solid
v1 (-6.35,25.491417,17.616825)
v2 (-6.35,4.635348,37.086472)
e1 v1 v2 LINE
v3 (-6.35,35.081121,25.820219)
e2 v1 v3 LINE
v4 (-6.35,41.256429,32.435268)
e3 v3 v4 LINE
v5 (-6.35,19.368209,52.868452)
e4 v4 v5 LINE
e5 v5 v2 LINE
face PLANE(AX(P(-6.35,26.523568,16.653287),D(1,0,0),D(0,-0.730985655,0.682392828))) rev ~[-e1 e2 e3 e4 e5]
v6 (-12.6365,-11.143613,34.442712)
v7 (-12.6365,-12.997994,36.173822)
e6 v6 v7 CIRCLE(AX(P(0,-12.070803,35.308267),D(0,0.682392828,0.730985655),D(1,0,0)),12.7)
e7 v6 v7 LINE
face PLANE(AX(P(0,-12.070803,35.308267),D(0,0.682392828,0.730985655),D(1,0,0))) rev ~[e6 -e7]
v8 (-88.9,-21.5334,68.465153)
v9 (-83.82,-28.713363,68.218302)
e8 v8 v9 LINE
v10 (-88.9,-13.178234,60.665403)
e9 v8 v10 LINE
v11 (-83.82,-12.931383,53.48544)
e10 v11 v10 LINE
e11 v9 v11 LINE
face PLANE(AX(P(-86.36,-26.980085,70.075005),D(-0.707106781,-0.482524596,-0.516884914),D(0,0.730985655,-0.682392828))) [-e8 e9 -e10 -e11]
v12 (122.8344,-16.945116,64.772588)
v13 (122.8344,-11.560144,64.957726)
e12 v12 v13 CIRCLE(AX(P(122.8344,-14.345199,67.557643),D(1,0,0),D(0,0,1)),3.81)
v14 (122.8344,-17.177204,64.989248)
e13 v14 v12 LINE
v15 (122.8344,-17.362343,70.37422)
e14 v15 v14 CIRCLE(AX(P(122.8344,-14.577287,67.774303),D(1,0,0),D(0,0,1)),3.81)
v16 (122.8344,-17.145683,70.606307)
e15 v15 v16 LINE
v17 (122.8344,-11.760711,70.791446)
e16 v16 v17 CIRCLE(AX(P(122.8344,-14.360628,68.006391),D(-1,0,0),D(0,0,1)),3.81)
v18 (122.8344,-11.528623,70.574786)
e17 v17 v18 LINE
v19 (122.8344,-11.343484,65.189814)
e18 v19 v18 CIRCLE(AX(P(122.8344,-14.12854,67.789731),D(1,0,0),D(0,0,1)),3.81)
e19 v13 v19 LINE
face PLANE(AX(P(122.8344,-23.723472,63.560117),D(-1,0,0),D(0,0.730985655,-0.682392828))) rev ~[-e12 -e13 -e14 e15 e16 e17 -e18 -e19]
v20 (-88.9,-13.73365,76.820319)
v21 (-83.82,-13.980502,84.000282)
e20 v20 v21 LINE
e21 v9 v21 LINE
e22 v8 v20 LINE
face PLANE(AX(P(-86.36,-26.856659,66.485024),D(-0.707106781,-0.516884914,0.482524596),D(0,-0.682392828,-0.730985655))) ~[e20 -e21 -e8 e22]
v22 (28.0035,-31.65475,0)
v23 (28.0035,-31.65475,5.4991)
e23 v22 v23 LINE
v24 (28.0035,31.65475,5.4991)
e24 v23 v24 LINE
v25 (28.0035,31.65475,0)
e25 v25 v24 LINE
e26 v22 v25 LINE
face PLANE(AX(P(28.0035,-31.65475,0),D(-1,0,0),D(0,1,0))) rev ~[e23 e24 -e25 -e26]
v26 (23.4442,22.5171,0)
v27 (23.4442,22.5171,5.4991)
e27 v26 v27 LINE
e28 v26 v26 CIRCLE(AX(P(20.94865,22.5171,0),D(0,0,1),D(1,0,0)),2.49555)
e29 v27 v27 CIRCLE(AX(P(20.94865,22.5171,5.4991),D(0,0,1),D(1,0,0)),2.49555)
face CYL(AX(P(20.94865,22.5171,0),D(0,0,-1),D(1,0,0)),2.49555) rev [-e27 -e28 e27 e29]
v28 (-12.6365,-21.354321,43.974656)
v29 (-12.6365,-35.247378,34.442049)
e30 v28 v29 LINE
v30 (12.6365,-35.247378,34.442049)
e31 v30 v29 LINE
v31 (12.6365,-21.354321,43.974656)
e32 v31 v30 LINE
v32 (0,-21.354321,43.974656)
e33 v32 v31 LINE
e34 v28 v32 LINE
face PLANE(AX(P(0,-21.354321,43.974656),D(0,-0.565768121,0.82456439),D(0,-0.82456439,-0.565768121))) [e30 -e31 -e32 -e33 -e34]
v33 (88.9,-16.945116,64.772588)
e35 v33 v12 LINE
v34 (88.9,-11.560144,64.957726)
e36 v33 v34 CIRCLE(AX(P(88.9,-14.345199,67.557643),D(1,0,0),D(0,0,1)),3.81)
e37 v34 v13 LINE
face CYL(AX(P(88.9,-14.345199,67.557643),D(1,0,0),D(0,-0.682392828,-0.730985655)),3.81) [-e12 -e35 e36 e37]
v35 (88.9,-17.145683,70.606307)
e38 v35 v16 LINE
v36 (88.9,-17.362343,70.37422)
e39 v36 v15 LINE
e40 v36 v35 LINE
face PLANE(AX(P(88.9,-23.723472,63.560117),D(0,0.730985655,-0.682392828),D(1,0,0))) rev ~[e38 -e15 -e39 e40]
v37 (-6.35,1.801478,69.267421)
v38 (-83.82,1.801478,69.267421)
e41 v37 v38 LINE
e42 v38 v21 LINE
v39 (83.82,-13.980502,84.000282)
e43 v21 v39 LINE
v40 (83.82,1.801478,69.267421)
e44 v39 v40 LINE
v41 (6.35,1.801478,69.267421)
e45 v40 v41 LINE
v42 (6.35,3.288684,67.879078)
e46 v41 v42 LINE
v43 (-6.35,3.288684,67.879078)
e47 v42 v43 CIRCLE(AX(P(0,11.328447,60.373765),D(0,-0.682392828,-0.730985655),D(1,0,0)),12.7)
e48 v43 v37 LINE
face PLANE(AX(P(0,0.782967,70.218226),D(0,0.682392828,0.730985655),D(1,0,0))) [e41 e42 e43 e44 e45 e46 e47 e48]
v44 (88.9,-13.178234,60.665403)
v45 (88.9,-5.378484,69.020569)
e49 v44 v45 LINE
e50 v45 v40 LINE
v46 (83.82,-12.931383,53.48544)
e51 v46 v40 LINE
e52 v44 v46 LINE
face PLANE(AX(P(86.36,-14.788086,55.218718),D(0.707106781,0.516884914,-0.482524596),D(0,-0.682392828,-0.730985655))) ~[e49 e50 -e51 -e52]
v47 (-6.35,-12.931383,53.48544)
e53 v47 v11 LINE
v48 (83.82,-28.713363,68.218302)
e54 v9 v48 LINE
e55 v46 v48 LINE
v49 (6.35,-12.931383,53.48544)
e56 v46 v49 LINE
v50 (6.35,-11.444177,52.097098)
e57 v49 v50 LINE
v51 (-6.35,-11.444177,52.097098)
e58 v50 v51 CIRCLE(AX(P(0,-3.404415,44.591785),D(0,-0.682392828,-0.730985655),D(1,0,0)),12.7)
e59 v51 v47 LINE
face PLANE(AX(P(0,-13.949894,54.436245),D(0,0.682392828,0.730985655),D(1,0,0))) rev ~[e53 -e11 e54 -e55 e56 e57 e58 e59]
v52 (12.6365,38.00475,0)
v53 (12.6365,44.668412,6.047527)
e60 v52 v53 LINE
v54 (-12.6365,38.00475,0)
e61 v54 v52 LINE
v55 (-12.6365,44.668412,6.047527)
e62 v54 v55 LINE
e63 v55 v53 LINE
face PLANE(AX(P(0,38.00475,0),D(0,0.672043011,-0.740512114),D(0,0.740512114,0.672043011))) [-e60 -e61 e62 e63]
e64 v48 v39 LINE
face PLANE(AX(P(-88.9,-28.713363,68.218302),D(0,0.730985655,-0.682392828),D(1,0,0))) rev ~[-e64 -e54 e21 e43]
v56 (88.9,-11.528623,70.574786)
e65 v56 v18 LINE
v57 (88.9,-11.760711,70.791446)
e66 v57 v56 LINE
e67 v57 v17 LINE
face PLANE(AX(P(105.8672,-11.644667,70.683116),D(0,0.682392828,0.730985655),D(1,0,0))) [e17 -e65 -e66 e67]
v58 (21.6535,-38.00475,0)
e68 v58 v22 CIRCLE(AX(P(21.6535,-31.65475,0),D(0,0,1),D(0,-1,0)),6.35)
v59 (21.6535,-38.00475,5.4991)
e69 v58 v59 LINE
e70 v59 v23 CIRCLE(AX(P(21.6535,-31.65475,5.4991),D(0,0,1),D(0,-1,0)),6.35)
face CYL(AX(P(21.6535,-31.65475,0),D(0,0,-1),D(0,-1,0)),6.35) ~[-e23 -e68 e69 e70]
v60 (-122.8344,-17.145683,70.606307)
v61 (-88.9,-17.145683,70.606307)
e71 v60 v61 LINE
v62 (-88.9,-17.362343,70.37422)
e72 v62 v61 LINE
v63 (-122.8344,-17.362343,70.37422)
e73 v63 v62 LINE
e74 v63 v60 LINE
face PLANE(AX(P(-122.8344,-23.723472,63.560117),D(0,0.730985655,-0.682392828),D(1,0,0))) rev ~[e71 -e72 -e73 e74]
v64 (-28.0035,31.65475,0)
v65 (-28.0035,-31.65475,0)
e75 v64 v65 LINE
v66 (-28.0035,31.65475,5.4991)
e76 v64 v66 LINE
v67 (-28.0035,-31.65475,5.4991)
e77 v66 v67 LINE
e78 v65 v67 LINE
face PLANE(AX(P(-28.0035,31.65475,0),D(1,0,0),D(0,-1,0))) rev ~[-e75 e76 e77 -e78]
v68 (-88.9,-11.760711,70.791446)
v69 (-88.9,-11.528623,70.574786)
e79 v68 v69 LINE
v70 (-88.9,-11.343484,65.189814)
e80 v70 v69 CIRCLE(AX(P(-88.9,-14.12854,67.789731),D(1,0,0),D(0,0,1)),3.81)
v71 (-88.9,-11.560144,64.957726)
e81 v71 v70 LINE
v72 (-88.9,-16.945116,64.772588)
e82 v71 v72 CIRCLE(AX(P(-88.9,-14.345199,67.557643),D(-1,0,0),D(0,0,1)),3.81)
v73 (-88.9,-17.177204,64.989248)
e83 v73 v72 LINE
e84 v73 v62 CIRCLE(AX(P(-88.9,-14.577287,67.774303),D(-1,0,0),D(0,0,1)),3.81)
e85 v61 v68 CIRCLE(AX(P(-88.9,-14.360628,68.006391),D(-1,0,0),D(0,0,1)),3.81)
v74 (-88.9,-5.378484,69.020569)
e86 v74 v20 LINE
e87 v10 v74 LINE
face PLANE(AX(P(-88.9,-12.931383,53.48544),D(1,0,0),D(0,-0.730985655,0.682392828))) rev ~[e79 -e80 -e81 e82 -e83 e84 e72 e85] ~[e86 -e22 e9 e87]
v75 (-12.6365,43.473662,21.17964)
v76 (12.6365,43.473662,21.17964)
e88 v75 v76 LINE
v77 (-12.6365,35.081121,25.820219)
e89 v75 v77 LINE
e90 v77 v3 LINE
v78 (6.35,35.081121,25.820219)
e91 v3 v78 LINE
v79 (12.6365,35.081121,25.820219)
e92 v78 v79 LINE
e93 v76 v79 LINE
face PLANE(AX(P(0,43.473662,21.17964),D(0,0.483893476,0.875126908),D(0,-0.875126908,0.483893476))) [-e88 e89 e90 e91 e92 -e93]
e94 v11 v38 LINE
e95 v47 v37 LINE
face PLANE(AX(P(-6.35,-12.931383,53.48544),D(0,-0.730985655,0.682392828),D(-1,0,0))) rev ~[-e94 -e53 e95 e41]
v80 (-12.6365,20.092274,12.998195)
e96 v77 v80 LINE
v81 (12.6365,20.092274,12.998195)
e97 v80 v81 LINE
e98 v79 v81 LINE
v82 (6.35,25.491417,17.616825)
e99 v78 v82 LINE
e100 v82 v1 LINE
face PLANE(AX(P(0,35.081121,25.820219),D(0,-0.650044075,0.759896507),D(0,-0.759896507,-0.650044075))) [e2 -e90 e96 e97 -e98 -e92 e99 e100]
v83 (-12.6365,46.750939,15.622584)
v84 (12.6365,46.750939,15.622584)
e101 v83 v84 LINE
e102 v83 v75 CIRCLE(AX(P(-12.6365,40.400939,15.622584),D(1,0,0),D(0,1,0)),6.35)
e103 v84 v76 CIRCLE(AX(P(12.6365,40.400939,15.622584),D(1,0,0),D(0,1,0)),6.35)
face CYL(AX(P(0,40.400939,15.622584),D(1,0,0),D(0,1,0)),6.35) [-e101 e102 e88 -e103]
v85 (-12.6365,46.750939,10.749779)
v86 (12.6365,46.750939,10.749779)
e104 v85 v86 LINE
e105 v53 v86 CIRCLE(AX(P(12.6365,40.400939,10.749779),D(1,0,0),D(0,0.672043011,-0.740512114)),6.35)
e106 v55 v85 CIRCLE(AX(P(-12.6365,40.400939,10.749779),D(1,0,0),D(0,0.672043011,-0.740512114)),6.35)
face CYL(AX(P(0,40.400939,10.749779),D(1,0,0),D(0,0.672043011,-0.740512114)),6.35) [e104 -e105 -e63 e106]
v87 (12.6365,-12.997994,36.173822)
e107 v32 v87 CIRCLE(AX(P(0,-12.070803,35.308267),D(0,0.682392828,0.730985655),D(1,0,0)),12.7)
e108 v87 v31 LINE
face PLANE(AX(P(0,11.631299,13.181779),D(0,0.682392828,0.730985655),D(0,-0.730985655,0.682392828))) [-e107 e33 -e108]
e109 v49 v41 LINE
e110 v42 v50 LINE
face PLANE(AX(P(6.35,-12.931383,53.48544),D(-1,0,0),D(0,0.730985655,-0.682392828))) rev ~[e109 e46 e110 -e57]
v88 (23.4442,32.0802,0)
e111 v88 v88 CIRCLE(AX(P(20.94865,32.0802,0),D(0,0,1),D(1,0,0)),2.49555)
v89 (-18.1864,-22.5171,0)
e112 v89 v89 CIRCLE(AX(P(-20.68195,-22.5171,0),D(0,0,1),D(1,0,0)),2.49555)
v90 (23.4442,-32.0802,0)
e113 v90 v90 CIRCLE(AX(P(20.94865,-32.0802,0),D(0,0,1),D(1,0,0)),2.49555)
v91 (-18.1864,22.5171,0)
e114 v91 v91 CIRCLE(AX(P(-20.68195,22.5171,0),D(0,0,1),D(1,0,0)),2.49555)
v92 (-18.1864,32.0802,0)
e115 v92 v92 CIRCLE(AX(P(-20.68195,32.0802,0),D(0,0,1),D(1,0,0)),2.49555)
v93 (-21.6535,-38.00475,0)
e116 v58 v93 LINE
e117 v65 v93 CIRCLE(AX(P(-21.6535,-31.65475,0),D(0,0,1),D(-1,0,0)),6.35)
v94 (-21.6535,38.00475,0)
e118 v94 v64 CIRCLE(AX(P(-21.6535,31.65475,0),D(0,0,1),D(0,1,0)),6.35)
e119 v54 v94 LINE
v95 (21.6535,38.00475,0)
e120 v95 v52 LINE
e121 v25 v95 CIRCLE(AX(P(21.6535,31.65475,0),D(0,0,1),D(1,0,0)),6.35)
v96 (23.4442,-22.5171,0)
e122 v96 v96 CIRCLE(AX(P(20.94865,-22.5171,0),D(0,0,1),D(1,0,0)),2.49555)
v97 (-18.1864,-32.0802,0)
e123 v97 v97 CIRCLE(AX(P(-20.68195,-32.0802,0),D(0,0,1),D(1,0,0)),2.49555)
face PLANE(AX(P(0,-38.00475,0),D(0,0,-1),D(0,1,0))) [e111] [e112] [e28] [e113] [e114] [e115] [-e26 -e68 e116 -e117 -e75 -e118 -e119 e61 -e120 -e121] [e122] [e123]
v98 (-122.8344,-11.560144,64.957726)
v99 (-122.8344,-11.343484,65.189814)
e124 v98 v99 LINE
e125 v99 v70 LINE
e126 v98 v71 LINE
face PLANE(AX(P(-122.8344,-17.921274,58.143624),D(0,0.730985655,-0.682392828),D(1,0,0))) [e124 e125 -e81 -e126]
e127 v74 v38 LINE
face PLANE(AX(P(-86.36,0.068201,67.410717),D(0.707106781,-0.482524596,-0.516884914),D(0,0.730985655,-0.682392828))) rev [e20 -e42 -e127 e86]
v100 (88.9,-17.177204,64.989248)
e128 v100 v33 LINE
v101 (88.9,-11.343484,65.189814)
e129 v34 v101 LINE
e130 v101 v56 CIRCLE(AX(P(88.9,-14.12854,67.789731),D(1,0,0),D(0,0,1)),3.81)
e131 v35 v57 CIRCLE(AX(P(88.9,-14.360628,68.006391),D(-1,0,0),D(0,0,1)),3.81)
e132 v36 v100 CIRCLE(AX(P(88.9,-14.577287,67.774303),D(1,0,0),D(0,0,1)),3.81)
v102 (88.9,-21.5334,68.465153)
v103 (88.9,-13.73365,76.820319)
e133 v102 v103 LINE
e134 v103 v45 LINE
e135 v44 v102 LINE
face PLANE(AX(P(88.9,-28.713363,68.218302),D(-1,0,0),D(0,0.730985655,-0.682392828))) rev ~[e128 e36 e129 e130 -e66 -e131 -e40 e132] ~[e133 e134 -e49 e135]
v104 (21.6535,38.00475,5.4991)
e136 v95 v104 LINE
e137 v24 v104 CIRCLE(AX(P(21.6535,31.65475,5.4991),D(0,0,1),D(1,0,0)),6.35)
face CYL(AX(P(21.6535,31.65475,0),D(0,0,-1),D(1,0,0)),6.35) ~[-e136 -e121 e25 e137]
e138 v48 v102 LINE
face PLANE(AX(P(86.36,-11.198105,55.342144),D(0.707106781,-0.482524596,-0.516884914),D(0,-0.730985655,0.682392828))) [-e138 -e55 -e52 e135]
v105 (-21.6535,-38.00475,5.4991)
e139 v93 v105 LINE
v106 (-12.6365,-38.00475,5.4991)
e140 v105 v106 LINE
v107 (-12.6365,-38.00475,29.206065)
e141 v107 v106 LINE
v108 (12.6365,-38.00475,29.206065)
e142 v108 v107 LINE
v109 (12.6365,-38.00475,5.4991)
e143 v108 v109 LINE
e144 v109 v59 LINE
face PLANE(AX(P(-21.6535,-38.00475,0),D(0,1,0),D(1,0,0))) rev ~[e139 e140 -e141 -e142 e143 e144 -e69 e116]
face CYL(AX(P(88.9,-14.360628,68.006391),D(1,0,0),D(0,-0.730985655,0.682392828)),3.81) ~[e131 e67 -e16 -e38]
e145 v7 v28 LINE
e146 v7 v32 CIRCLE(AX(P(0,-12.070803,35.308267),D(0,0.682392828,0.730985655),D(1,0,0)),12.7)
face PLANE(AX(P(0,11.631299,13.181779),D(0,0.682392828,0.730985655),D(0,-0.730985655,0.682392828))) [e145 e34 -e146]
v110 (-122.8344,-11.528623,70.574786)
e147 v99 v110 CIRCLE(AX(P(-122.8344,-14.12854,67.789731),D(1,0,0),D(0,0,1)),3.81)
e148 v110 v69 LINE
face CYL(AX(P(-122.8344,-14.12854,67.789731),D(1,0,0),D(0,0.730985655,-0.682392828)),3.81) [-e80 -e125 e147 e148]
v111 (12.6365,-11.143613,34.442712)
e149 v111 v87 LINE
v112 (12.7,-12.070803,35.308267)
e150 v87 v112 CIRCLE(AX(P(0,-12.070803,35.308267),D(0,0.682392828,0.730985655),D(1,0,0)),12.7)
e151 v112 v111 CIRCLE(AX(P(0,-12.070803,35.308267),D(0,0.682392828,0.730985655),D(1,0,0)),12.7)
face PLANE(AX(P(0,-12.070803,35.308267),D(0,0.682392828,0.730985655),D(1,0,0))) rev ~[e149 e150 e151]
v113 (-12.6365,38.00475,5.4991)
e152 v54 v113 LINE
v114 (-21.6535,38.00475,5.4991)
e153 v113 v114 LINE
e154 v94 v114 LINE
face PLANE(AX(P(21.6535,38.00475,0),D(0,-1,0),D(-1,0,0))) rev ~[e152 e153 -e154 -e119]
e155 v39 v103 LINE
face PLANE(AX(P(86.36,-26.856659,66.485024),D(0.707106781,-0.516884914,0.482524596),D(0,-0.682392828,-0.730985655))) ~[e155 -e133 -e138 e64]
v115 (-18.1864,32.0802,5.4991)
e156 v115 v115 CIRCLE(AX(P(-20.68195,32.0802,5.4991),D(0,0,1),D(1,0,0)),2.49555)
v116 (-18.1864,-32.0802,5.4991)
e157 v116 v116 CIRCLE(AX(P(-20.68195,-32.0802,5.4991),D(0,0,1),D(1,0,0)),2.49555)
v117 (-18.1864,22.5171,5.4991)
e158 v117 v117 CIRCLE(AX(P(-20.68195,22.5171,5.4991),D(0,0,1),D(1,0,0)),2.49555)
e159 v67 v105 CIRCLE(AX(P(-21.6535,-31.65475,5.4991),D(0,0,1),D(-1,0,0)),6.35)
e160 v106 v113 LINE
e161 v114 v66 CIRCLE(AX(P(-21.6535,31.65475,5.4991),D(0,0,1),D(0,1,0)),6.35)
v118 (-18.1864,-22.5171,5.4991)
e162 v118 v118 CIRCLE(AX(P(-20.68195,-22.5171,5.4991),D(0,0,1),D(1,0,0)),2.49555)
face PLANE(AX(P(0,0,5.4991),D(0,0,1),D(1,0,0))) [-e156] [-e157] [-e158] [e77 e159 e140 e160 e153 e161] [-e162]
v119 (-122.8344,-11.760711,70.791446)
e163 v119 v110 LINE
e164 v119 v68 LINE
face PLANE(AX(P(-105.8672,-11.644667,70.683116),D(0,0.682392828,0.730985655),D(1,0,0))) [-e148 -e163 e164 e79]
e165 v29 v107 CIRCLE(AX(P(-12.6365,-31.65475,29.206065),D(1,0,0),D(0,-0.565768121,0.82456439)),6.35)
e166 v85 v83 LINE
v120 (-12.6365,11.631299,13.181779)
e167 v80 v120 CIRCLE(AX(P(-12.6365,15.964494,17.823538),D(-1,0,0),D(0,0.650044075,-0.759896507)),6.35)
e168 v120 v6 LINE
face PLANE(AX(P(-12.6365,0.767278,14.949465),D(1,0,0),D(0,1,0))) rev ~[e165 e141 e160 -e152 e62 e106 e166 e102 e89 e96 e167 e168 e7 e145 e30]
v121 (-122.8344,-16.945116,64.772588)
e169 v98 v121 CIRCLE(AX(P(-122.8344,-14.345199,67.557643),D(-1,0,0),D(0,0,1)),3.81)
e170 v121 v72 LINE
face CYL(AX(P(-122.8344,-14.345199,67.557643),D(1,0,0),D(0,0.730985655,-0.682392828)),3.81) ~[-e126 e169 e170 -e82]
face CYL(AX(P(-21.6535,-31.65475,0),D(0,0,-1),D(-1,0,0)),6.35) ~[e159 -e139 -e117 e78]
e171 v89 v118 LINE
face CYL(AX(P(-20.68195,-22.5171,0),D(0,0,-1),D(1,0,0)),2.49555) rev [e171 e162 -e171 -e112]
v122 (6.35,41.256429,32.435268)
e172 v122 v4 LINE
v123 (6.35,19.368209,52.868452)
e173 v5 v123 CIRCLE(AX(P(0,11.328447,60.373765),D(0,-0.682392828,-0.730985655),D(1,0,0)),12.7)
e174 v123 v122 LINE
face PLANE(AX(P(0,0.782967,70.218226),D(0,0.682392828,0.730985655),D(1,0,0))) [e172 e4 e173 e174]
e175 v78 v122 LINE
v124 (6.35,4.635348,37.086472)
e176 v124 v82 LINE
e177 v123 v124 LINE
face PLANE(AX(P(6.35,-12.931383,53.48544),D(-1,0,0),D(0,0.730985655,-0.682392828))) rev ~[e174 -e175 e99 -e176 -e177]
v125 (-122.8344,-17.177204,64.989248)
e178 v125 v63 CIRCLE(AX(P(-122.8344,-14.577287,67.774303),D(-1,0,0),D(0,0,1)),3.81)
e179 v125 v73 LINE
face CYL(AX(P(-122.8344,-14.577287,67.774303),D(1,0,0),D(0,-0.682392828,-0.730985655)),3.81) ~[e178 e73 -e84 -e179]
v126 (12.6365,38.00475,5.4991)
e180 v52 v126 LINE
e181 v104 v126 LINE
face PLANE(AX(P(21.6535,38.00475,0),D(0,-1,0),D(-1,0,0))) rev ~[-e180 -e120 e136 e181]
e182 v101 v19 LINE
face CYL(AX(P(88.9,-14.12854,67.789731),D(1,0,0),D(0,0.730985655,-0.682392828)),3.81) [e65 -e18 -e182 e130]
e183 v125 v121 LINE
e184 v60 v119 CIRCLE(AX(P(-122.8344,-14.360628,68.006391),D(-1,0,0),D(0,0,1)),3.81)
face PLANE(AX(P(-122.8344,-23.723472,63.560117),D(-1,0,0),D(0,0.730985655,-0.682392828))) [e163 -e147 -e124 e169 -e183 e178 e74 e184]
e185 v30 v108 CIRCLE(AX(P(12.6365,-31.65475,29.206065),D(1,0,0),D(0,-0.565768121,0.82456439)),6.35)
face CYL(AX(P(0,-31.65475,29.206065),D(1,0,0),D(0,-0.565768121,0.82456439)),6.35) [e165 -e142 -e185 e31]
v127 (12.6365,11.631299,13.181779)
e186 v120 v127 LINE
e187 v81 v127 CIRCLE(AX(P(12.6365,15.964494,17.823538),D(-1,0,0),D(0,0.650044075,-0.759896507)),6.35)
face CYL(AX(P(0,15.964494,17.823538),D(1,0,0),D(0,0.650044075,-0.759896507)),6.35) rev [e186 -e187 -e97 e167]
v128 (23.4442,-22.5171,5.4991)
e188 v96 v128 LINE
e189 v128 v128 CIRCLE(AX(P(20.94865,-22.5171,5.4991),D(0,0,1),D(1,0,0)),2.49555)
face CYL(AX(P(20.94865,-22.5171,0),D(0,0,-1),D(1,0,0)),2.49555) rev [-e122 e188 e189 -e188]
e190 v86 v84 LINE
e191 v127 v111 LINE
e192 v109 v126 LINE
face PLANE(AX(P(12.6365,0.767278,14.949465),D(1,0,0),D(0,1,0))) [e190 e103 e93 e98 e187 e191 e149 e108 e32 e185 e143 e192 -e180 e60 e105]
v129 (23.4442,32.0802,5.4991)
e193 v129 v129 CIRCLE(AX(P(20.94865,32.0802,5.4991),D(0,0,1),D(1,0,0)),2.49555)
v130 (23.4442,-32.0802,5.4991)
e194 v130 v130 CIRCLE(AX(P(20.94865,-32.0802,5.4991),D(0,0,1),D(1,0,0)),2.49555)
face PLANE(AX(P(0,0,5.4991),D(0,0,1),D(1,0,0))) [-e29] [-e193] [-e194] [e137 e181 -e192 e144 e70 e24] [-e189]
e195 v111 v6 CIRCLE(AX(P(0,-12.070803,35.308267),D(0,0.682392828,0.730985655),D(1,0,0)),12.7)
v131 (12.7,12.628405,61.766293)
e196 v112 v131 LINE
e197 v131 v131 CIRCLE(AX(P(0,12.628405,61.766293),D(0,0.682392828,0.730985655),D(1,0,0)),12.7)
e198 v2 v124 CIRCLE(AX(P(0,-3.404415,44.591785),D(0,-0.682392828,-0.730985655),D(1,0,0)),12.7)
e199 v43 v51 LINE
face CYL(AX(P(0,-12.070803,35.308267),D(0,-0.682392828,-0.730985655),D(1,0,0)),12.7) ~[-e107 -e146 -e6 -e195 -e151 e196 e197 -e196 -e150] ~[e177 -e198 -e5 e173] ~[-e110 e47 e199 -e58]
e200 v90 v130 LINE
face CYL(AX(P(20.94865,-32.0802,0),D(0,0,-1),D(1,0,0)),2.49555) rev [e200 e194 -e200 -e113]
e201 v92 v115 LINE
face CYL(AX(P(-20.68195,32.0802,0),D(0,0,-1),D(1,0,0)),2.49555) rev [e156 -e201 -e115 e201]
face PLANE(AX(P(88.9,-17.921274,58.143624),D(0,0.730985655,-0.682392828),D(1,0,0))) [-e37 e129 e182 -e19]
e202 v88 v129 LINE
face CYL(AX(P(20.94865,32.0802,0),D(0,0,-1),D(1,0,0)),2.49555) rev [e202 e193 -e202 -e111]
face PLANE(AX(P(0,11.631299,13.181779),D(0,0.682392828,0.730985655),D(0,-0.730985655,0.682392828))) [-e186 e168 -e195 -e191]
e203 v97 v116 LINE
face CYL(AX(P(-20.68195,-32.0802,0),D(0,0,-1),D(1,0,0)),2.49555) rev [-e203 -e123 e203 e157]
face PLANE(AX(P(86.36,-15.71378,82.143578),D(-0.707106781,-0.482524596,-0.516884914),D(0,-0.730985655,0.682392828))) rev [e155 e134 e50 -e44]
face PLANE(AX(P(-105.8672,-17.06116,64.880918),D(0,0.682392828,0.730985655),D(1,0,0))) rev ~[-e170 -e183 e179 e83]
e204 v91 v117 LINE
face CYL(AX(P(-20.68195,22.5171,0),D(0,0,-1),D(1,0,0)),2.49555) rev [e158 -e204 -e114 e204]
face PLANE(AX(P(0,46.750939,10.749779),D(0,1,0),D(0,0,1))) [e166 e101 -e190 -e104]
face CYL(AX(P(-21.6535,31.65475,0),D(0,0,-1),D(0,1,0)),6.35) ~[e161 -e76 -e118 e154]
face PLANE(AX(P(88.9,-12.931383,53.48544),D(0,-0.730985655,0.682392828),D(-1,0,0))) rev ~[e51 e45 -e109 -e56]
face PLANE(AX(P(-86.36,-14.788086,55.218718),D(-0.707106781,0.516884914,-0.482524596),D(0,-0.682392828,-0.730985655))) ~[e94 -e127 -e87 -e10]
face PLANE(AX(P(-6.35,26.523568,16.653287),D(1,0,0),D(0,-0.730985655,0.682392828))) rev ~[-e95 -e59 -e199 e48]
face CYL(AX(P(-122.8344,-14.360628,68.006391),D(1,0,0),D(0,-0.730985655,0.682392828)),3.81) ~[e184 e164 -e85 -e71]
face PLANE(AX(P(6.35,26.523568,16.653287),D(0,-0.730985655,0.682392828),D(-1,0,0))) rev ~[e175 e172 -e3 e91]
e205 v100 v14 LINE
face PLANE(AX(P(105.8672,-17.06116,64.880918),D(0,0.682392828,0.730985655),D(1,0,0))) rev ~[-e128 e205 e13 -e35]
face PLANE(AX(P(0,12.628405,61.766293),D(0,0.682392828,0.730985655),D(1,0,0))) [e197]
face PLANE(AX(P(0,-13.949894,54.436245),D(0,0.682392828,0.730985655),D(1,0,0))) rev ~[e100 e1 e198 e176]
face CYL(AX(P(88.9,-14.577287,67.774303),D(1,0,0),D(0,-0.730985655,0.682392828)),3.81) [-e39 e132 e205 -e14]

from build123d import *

# Parameters (mm, degrees)
F0_R      = 2.49555
F1_DEPTH  = 5.4991
F3_DEPTH  = 12.6365
F4_R      = 12.7
F5_DEPTH  = 36.195
F8_DEPTH  = 21.59
F7_W      = 33.9344
F7_H      = 7.9375
F9_DEPTH  = 13.4493
F10_DEPTH = 5.5118
F11_SIZE  = 5.08
F12_R     = 3.81


with BuildPart() as f1:
    # F0 (on Top) → F1 (new body)
    with BuildSketch(Plane.XY):
        with BuildLine():
            Line((21.6535, 38.00475), (-21.6535, 38.00475))
            ThreePointArc((-21.6535, 38.00475), (-26.1436280605, 36.1448780605), (-28.0035, 31.65475))
            Line((-28.0035, 31.65475), (-28.0035, -31.65475))
            ThreePointArc((-28.0035, -31.65475), (-26.1436280605, -36.1448780605), (-21.6535, -38.00475))
            Line((-21.6535, -38.00475), (21.6535, -38.00475))
            ThreePointArc((21.6535, -38.00475), (26.1436280605, -36.1448780605), (28.0035, -31.65475))
            Line((28.0035, -31.65475), (28.0035, 31.65475))
            ThreePointArc((28.0035, 31.65475), (26.1436280605, 36.1448780605), (21.6535, 38.00475))
        make_face()
        with Locations((-20.68195, -32.0802)):
            Circle(F0_R, mode=Mode.SUBTRACT)
        with Locations((-20.68195, -22.5171)):
            Circle(F0_R, mode=Mode.SUBTRACT)
        with Locations((20.94865, -32.0802)):
            Circle(F0_R, mode=Mode.SUBTRACT)
        with Locations((20.94865, -22.5171)):
            Circle(F0_R, mode=Mode.SUBTRACT)
        with Locations((-20.68195, 22.5171)):
            Circle(F0_R, mode=Mode.SUBTRACT)
        with Locations((-20.68195, 32.0802)):
            Circle(F0_R, mode=Mode.SUBTRACT)
        with Locations((20.94865, 22.5171)):
            Circle(F0_R, mode=Mode.SUBTRACT)
        with Locations((20.94865, 32.0802)):
            Circle(F0_R, mode=Mode.SUBTRACT)
    extrude(amount=F1_DEPTH)

    # F2 (on Right) → F3 (join, symmetric)
    with BuildSketch(Plane.YZ):
        with BuildLine():
            Line((-38.00475, 0), (38.00475, 0))
            Line((38.00475, 0), (44.6684117025, 6.0475273605))
            ThreePointArc((44.6684117025, 6.0475273605), (46.2070110218, 8.1783938925), (46.7509385842, 10.7497792875))
            Line((46.7509385842, 10.7497792875), (46.7509385842, 15.6225843746))
            ThreePointArc((46.7509385842, 15.6225843746), (45.8705955509, 18.8483172628), (43.4736621539, 21.1796402376))
            Line((43.4736621539, 21.1796402376), (35.0811212719, 25.8202194964))
            Line((35.0811212719, 25.8202194964), (20.0922738228, 12.9981952029))
            ThreePointArc((20.0922738228, 12.9981952029), (15.826745806, 11.4750322558), (11.6312994892, 13.1817791111))
            Line((11.6312994892, 13.1817791111), (-21.3543212783, 43.9746556756))
            Line((-21.3543212783, 43.9746556756), (-35.2473775709, 34.4420485715))
            ThreePointArc((-35.2473775709, 34.4420485715), (-37.2732767231, 32.1648917383), (-38.00475, 29.2060646967))
            Line((-38.00475, 29.2060646967), (-38.00475, 0))
        make_face()
    extrude(amount=F3_DEPTH, both=True)

    # F4 (on face) → F5 (join)
    with BuildSketch(Plane(origin=(0, 11.9915573283, 12.8454696856), x_dir=(1, 0, 0), z_dir=(0, 0.6823928283, 0.7309856551))):
        with Locations((0, -32.9176921867)):
            Circle(F4_R)
    extrude(amount=F5_DEPTH)

    # F7 (on offset) → F8 (join)
    with BuildSketch(Plane(origin=(0, 20.6579462472, 22.1289875052), x_dir=(1, 0, 0), z_dir=(0, 0.6823928283, 0.7309856551))):
        Polygon((6.35, 5.7192138057), (6.35, 8.0242638057), (-6.35, 8.0242638057), (-6.35, 5.7192138057), (-6.35, -45.9507361943), (-57.15, -45.9507361943), (-88.9, -45.9507361943), (-88.9, -52.7769861943), (-88.9, -60.7144861943), (-88.9, -67.5407361943), (0, -67.5407361943), (88.9, -67.5407361943), (88.9, -60.7144861943), (88.9, -52.7769861943), (88.9, -45.9507361943), (57.15, -45.9507361943), (6.35, -45.9507361943), align=None)
    extrude(amount=F8_DEPTH)

    # F7 (on offset) → F9 (join)
    with BuildSketch(Plane(origin=(0, 20.6579462472, 22.1289875052), x_dir=(1, 0, 0), z_dir=(0, 0.6823928283, 0.7309856551))):
        with Locations((105.8672, -56.7457361943)):
            Rectangle(F7_W, F7_H)
        with Locations((-105.8672, -56.7457361943)):
            Rectangle(F7_W, F7_H)
    extrude(amount=F9_DEPTH)

    # F7 (on offset) → F10 (cut)
    with BuildSketch(Plane(origin=(0, 20.6579462472, 22.1289875052), x_dir=(1, 0, 0), z_dir=(0, 0.6823928283, 0.7309856551))):
        with Locations((105.8672, -56.7457361943)):
            Rectangle(F7_W, F7_H)
        with Locations((-105.8672, -56.7457361943)):
            Rectangle(F7_W, F7_H)
    extrude(amount=F10_DEPTH, mode=Mode.SUBTRACT)

    # F11
    f11_edges = [f1.edges().sort_by_distance(p)[0] for p in [
        (88.9, -21.346932, 76.109292),
        (88.9, -6.089512, 76.633851),
        (88.9, -5.564952, 61.37643),
        (88.9, -20.822373, 60.851871),
        (-88.9, -6.089512, 76.633851),
        (-88.9, -21.346932, 76.109292),
        (-88.9, -5.564952, 61.37643),
        (-88.9, -20.822373, 60.851871),
    ]]
    chamfer(f11_edges, length=F11_SIZE)

    # F12
    f12_edges = [f1.edges().sort_by_distance(p)[0] for p in [
        (105.8672, -14.545766, 73.391363),
        (105.8672, -19.962259, 67.589164),
        (105.8672, -14.160061, 62.172671),
        (105.8672, -8.743568, 67.97487),
        (-105.8672, -19.962259, 67.589164),
        (-105.8672, -14.545766, 73.391363),
        (-105.8672, -8.743568, 67.97487),
        (-105.8672, -14.160061, 62.172671),
    ]]
    fillet(f12_edges, radius=F12_R)


solid = f1.part
